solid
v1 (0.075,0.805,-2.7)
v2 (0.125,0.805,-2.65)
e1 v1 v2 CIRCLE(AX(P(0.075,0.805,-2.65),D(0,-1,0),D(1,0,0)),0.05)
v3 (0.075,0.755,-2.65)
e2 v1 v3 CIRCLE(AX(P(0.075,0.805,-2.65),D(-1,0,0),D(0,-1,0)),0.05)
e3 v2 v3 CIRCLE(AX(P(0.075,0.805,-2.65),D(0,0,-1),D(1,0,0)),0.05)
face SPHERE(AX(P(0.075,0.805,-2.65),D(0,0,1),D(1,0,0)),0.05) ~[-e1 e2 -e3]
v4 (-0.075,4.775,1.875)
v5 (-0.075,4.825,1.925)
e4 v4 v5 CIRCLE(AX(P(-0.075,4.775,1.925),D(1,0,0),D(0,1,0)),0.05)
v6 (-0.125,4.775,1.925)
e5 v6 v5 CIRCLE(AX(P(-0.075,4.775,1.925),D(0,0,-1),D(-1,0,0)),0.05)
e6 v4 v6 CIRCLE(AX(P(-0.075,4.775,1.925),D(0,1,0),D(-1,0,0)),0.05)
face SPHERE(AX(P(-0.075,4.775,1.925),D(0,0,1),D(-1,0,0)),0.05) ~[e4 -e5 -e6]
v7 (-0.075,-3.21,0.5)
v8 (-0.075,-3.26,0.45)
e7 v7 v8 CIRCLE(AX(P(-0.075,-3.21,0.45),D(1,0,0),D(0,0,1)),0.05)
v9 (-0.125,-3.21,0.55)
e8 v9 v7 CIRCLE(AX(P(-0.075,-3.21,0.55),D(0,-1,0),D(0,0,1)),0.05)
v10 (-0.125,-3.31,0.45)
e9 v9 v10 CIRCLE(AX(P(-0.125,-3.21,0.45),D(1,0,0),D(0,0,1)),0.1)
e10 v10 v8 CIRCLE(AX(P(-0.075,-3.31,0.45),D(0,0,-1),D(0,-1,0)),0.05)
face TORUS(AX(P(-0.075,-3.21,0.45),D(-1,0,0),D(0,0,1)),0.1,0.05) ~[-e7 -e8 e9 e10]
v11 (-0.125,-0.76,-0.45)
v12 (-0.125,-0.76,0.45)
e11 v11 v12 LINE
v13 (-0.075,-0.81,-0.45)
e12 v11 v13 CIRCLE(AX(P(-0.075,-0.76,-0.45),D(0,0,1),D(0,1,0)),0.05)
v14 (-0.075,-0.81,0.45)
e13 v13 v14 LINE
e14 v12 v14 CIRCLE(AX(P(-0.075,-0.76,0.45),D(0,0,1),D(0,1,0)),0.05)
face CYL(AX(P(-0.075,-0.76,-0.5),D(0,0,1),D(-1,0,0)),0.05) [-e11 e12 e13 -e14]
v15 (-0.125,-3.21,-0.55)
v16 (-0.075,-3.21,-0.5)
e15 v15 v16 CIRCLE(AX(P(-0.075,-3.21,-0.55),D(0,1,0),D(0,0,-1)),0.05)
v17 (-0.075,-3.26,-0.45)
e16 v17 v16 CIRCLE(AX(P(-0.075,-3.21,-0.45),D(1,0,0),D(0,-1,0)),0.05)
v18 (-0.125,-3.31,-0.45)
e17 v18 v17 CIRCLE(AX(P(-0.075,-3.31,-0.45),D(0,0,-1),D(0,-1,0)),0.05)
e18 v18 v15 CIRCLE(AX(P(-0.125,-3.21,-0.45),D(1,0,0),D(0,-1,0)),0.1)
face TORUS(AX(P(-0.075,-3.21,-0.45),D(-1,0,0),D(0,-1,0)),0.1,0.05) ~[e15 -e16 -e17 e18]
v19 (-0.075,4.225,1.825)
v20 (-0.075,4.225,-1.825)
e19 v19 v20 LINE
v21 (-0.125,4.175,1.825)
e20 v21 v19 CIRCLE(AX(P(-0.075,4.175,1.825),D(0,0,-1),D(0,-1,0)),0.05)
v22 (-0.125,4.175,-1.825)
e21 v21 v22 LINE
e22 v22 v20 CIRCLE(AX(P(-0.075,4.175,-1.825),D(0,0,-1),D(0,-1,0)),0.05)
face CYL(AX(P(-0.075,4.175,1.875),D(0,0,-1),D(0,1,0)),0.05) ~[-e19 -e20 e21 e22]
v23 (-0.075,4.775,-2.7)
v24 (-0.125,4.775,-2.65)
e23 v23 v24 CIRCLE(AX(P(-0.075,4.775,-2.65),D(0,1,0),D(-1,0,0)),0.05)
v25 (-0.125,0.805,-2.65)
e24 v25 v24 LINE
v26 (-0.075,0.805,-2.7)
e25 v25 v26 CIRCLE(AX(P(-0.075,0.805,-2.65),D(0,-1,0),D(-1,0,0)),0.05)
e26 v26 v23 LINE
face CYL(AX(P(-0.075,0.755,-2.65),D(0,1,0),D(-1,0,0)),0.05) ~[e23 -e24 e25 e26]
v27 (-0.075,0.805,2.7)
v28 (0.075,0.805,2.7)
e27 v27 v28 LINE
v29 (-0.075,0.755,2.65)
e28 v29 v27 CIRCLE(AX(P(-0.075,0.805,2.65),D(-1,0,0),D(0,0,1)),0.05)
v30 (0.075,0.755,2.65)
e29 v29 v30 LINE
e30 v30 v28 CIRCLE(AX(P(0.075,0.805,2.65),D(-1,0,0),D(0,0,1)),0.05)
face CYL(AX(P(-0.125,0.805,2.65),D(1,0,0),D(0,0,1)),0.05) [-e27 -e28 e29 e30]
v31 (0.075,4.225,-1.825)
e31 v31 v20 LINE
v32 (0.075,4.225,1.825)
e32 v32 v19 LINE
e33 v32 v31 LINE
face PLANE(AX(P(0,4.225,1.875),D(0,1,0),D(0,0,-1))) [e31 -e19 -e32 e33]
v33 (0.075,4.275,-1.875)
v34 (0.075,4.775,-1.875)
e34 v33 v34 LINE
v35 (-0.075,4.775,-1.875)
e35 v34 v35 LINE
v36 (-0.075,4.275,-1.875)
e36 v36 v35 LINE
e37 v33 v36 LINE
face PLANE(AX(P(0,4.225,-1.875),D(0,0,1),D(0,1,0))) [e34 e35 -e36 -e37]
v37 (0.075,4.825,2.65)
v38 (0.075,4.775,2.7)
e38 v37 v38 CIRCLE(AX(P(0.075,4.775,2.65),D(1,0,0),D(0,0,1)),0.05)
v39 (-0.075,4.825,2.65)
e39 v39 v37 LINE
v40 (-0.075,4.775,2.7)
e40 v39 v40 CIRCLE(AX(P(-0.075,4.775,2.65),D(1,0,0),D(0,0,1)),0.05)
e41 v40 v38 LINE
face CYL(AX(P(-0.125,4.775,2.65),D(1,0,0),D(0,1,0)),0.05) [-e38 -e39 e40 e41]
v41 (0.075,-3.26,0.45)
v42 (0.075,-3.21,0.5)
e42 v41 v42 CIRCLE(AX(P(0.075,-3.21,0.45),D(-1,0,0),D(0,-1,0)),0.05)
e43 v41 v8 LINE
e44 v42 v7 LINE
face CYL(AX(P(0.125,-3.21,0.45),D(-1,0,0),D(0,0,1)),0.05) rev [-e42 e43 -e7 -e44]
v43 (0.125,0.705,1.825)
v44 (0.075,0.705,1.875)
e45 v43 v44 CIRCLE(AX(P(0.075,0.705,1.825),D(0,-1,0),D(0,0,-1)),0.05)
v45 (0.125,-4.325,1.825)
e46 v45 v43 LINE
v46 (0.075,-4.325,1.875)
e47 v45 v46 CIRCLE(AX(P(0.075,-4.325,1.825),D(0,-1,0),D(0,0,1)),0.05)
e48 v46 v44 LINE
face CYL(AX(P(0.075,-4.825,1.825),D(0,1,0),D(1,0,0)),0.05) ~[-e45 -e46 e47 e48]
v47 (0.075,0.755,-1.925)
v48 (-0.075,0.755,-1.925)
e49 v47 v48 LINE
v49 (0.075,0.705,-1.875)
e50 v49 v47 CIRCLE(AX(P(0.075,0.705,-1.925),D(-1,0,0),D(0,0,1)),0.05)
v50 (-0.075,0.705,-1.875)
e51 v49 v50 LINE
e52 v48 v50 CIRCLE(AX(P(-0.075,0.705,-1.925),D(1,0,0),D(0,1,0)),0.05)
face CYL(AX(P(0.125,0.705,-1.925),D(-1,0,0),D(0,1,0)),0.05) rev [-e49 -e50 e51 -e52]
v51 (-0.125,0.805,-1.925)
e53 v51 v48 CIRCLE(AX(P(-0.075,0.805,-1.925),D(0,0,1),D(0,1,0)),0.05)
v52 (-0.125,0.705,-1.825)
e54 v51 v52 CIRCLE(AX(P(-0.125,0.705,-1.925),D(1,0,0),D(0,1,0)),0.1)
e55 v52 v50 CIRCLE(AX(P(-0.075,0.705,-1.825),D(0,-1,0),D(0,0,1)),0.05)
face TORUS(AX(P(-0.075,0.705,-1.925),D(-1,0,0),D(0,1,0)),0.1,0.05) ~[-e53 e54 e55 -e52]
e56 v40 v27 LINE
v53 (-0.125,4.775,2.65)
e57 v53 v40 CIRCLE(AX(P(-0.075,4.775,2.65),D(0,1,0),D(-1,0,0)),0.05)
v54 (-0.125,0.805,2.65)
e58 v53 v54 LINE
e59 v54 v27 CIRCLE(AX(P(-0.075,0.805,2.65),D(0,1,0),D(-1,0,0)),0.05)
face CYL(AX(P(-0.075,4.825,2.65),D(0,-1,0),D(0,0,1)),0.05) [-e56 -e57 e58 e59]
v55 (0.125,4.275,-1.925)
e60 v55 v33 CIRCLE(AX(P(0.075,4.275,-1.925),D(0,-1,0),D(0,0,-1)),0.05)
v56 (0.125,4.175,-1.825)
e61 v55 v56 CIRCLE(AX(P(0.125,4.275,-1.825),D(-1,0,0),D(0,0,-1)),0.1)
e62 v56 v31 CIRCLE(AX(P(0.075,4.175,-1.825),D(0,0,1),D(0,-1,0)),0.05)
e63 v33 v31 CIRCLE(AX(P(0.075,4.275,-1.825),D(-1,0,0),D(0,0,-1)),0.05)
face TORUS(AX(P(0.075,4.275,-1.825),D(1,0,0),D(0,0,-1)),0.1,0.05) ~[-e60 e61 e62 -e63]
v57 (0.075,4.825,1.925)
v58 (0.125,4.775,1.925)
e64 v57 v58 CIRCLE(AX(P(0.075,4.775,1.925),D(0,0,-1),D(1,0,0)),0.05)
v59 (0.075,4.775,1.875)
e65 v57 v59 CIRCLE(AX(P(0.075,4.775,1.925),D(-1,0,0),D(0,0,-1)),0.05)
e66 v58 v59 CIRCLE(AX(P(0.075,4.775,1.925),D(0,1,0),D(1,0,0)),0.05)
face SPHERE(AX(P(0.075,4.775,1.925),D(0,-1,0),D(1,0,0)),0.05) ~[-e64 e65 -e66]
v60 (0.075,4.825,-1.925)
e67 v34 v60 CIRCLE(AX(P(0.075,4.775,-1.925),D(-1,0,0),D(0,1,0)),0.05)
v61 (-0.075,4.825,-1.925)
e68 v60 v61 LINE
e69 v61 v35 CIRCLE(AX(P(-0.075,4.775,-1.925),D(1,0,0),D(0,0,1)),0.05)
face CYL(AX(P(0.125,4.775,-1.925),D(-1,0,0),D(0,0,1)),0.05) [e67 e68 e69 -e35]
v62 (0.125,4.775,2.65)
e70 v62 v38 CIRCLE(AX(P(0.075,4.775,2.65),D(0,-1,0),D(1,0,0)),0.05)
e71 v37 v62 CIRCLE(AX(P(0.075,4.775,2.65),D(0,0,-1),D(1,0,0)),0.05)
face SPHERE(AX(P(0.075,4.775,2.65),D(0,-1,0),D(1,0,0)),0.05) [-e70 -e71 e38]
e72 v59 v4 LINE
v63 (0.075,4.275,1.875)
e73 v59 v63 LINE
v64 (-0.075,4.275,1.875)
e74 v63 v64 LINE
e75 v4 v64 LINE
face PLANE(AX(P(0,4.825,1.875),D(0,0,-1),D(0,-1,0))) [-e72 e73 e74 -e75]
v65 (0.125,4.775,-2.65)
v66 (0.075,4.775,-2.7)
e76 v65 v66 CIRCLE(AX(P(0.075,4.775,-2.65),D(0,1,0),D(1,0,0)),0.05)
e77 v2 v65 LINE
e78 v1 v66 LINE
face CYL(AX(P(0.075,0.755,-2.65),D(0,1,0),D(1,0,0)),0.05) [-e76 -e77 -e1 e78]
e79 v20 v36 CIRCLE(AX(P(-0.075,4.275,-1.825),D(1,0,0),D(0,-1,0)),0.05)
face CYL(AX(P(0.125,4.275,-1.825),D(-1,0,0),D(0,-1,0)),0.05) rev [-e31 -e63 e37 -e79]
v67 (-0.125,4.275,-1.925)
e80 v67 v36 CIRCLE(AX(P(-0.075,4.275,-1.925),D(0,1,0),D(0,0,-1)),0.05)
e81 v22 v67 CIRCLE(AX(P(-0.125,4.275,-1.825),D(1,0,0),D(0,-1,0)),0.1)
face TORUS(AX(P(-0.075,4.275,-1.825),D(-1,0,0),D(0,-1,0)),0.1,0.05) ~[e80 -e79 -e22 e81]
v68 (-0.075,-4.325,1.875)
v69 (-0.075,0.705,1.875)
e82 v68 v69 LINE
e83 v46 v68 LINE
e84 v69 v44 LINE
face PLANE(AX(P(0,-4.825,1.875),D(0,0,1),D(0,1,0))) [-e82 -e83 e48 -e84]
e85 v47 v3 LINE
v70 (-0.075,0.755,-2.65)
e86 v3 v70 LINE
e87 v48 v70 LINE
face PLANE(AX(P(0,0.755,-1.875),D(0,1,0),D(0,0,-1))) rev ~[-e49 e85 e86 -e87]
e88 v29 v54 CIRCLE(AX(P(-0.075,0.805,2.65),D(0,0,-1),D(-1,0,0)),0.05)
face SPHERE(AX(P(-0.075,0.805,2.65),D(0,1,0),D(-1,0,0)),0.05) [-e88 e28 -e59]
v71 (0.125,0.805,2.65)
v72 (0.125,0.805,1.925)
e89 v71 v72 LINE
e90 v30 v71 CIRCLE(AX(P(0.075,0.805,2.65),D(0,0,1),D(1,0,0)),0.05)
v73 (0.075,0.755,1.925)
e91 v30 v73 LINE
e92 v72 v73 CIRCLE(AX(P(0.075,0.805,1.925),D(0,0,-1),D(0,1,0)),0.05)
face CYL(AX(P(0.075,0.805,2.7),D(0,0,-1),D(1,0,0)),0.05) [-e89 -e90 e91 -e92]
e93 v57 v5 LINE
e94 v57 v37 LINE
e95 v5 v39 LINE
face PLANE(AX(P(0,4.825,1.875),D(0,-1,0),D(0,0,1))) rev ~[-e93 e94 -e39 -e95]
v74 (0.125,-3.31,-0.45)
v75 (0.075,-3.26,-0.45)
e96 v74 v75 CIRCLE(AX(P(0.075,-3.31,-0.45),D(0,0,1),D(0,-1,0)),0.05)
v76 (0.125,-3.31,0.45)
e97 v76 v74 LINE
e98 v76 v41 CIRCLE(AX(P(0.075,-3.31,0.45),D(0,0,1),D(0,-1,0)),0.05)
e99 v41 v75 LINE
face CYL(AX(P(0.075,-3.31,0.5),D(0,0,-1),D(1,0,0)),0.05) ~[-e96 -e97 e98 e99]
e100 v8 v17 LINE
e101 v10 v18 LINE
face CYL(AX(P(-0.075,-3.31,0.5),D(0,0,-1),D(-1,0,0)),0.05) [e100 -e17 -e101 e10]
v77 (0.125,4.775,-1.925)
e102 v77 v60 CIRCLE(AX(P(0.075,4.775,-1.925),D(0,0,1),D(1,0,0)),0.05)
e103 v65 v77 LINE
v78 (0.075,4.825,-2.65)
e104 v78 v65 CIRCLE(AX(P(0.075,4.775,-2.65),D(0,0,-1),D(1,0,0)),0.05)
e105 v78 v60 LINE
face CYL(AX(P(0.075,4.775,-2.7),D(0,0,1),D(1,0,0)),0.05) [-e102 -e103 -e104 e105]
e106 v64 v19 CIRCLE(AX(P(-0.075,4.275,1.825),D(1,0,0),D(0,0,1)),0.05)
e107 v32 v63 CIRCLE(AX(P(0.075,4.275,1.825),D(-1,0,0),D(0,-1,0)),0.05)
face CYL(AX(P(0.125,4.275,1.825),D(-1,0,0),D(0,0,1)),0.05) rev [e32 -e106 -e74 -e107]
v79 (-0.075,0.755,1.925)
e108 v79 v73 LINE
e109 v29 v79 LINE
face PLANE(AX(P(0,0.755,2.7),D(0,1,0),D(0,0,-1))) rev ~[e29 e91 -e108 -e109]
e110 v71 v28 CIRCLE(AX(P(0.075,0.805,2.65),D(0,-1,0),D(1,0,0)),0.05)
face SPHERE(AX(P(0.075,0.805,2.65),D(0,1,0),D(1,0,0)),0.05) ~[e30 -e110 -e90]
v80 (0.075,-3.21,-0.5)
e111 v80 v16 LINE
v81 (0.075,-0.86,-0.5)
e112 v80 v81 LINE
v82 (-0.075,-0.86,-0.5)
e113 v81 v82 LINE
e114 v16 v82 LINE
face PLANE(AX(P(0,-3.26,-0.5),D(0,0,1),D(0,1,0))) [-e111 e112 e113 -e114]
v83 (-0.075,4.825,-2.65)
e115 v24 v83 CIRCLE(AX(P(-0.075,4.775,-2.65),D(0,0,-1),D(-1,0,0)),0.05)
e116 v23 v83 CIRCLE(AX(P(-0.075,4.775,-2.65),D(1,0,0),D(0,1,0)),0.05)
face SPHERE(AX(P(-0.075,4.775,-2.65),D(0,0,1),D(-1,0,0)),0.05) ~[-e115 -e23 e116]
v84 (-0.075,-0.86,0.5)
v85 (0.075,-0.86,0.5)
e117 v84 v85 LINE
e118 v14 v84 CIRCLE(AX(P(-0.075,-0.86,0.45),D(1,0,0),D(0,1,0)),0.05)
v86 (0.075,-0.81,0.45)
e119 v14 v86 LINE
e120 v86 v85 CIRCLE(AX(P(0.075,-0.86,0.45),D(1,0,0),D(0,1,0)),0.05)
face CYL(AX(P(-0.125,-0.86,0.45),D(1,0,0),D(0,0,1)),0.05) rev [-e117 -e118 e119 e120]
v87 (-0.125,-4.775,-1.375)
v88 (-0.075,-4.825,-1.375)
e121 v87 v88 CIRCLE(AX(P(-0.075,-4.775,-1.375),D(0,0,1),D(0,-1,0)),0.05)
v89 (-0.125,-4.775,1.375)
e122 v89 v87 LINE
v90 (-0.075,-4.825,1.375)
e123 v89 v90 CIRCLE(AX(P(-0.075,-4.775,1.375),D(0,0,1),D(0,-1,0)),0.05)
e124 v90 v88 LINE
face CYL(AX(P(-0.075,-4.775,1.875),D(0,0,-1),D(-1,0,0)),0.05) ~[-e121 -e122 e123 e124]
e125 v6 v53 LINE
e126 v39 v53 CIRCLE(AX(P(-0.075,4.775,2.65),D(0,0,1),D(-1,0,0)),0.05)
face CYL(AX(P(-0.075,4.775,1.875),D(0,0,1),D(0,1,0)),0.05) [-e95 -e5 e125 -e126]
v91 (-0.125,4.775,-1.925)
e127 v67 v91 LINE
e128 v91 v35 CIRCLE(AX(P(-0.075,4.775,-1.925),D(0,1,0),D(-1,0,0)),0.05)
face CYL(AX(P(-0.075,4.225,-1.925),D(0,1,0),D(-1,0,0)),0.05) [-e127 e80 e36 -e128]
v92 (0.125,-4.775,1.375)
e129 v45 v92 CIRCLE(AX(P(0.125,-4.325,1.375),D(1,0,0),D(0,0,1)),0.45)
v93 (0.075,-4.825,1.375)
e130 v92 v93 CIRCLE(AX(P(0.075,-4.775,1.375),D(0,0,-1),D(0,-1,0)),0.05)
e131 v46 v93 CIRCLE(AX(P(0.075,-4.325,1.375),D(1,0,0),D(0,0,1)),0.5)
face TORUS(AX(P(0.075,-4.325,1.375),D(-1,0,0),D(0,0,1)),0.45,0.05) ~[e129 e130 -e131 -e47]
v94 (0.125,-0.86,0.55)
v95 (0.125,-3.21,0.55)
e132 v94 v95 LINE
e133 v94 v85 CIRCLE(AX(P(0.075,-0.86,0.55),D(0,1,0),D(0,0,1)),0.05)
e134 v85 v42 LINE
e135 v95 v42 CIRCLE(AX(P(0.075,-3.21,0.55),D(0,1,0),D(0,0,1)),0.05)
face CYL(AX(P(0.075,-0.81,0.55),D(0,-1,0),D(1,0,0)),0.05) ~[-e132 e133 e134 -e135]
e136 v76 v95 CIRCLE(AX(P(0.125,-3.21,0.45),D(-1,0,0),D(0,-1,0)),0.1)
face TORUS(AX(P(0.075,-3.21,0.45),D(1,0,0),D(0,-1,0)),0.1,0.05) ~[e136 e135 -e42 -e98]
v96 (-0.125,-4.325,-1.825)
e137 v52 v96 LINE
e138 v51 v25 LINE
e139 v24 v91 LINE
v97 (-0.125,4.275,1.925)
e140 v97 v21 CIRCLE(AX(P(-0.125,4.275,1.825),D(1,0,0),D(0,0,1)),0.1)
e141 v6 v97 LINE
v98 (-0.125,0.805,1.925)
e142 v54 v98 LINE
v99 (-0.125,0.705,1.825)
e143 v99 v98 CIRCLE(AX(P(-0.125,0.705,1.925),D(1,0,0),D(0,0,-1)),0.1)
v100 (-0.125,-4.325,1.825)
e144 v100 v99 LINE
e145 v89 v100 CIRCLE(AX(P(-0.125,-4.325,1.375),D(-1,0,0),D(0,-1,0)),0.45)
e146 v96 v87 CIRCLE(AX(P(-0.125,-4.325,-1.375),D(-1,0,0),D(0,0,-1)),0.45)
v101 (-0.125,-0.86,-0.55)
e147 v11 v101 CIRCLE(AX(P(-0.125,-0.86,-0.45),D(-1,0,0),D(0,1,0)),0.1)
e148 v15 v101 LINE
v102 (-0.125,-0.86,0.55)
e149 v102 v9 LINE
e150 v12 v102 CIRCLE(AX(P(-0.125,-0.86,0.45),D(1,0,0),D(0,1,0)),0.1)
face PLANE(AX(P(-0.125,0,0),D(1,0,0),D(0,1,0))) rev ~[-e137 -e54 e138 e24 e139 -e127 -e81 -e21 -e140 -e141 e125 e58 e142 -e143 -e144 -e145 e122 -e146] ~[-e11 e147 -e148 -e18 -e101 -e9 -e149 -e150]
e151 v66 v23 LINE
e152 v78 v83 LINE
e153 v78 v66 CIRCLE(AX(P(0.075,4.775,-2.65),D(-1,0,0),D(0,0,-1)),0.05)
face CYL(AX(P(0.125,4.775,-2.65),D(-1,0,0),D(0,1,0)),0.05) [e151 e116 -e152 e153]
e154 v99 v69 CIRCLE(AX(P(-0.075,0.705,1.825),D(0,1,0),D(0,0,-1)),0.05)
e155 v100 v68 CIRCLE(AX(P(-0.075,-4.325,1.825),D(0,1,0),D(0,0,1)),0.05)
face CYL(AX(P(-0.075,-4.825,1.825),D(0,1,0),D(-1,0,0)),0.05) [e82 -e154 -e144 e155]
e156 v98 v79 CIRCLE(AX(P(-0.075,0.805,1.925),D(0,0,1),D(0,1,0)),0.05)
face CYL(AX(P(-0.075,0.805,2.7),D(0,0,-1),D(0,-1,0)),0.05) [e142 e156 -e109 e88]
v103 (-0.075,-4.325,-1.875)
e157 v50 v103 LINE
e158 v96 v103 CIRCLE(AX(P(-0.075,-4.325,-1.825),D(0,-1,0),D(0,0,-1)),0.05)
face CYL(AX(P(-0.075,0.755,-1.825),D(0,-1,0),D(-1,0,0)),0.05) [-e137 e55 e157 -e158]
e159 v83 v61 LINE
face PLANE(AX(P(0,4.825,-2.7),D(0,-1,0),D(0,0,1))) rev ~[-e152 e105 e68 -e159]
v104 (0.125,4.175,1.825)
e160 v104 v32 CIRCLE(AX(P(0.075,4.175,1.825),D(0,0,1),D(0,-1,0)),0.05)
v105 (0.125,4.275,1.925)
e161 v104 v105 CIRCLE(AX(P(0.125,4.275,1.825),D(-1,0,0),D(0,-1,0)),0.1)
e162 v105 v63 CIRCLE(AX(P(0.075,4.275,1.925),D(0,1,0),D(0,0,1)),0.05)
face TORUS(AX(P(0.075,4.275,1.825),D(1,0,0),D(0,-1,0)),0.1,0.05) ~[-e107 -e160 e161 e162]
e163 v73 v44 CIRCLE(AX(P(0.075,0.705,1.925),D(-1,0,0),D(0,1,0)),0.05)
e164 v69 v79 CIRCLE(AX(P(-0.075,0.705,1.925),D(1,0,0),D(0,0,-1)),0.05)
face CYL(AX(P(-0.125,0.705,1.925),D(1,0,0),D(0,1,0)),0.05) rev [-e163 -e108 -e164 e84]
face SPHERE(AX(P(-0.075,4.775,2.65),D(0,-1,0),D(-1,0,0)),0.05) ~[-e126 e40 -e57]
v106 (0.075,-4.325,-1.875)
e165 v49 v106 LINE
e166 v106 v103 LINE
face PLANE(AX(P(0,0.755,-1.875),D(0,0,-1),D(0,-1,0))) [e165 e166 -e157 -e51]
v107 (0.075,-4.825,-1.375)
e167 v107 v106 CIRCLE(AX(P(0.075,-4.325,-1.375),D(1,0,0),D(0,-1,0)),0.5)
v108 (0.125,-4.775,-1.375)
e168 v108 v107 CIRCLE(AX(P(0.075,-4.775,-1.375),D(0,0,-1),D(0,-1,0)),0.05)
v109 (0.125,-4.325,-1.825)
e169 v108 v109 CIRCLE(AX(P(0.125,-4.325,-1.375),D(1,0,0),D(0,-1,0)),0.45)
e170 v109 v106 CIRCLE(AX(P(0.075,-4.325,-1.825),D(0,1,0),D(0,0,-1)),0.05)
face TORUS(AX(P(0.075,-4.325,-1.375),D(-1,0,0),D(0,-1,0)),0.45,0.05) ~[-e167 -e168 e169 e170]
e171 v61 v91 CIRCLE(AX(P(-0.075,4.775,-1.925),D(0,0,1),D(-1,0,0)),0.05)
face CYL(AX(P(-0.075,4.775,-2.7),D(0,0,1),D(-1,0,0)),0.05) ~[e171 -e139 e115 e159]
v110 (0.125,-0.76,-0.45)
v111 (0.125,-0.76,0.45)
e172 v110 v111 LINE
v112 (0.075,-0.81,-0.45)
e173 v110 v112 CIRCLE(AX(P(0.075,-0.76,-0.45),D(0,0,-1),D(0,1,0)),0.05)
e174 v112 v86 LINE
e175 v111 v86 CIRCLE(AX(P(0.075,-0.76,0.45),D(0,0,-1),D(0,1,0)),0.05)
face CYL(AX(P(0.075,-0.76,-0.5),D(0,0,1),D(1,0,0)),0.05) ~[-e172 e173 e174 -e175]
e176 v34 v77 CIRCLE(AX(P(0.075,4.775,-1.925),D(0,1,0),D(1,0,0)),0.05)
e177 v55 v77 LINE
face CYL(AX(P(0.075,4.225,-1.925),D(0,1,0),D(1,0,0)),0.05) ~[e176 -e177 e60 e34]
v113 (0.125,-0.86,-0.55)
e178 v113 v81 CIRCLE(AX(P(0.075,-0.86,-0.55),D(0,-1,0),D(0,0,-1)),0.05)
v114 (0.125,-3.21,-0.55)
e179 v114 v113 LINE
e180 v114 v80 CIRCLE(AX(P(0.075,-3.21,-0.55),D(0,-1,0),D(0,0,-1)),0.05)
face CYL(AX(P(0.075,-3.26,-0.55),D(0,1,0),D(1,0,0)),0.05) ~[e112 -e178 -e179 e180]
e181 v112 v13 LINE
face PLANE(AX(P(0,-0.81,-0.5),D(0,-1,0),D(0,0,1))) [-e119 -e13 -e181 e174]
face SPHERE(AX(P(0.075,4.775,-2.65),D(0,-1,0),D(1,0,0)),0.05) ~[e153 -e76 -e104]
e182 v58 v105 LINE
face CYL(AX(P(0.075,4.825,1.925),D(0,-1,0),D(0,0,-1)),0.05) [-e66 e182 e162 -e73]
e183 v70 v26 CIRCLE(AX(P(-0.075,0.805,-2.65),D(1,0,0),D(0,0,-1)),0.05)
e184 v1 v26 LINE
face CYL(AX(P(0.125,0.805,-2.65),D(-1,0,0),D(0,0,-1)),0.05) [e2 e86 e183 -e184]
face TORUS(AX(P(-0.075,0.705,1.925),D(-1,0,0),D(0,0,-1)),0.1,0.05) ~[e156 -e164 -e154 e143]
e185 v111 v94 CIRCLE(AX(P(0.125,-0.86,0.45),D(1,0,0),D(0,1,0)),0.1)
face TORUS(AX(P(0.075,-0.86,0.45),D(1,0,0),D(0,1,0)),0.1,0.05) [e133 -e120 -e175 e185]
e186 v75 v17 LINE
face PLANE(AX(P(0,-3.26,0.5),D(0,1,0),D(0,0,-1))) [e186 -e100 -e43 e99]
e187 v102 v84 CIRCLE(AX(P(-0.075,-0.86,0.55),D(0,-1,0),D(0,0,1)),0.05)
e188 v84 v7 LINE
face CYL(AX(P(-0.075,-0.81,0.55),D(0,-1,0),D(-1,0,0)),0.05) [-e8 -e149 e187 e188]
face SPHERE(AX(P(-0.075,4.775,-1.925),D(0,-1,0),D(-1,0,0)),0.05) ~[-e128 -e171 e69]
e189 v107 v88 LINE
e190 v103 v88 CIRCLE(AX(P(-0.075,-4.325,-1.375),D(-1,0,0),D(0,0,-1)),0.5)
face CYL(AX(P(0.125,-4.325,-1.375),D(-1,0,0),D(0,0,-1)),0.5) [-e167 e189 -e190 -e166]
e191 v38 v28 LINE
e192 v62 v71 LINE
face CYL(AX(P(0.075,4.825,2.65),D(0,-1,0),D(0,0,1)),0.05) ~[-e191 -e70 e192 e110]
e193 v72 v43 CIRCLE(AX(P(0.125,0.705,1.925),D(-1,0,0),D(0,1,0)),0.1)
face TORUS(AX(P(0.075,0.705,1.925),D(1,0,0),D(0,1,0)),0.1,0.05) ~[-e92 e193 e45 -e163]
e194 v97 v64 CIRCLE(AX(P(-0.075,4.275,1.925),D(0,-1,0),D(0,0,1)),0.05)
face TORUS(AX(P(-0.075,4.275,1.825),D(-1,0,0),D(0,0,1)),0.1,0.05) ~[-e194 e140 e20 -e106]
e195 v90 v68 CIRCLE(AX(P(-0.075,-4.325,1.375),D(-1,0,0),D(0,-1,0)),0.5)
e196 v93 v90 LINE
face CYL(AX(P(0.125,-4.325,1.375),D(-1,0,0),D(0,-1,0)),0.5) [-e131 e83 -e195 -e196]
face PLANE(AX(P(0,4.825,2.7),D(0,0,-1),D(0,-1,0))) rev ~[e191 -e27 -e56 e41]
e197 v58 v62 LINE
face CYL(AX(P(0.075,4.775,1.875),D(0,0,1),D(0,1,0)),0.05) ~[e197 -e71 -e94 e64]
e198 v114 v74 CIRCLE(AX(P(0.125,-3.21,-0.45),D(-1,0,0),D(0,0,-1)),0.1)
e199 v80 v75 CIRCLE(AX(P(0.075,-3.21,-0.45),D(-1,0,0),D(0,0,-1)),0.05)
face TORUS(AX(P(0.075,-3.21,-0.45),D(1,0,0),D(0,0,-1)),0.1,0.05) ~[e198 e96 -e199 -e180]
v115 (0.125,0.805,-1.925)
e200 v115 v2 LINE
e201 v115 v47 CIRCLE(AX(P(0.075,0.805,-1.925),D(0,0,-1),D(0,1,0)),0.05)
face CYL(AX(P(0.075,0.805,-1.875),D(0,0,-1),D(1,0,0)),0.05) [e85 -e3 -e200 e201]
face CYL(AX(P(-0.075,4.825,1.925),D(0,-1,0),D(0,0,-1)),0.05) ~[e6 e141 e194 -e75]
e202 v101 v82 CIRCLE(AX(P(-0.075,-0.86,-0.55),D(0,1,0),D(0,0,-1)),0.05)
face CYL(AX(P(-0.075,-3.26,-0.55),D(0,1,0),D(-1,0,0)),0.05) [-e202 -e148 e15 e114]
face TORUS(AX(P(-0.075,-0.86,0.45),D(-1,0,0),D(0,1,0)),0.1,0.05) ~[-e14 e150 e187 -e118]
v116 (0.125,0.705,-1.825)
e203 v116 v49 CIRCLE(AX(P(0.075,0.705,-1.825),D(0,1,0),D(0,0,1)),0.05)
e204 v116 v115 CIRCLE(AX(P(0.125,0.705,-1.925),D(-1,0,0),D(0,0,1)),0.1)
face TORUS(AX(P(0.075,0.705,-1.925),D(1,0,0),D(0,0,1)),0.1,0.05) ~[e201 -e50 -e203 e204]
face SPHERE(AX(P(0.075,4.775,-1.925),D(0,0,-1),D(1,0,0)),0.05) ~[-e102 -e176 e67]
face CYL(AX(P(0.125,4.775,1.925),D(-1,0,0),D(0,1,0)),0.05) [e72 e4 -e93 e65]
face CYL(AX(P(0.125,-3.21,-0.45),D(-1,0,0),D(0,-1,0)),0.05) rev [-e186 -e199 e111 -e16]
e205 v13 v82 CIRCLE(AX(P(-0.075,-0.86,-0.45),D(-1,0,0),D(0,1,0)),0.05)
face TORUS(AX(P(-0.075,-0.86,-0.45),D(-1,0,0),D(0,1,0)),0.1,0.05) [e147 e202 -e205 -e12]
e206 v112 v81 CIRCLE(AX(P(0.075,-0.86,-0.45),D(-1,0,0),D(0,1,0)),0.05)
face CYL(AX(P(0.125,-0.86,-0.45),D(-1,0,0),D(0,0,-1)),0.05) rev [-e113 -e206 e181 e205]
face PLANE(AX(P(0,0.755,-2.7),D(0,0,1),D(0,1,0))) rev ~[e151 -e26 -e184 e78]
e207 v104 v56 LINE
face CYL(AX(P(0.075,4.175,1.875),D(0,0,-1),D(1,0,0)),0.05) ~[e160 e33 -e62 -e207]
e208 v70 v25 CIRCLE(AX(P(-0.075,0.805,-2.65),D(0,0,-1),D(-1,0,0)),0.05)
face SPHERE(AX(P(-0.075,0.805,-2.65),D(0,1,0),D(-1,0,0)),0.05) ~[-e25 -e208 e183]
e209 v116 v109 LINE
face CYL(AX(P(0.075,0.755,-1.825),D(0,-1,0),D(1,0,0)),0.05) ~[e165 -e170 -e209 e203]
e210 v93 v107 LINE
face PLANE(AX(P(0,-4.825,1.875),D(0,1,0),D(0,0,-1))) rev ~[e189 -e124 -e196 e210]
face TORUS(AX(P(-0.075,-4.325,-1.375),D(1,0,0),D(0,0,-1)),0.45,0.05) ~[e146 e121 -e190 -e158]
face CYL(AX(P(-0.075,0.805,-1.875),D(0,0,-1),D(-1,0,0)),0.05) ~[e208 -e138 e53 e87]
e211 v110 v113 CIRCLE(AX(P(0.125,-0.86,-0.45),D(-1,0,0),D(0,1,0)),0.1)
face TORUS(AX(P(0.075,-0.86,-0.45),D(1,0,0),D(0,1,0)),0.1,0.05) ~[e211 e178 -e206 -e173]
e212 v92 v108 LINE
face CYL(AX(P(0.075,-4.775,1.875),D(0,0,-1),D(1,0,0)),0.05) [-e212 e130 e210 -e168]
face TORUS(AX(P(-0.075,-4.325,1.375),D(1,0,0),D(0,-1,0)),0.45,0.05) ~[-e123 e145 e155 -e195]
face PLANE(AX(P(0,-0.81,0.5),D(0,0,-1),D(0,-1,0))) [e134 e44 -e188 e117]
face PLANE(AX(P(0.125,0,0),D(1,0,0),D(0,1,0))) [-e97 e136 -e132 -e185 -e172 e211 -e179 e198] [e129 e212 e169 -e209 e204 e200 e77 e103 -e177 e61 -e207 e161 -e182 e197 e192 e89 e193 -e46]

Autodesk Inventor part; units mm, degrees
ref_plane "YZ Plane" through (0, 0, 0) normal (1, 0, 0) x (0, 1, 0)
ref_plane "XZ Plane" through (0, 0, 0) normal (0, 1, 0) x (-1, 0, 0)
ref_plane "XY Plane" through (0, 0, 0) normal (0, 0, 1) x (1, 0, 0)
sketch "Sketch1" plane through (0, 0, 0) normal (1, 0, 0) x (0, 1, 0)
  line L0 (4.825, 2.7) -> (0.755, 2.7)
  line L1 (-4.825, 1.875) -> (-4.825, -1.875)
  line L2 (0.755, -2.7) -> (4.825, -2.7)
  line L3 (4.825, 2.7) -> (-4.825, -2.7) construction
  line L4 (-4.825, 2.7) -> (4.825, -2.7) construction
  line L5 (-4.825, 1.875) -> (0.755, 1.875)
  line L6 (0.755, -1.875) -> (-4.825, -1.875)
  line L7 (0.755, 0) -> (0.579, 0) construction
  line L8 (0.755, 2.7) -> (0.755, 1.875)
  line L9 (0.755, -1.875) -> (0.755, -2.7)
  line L10 (-0.81, 0.5) -> (-3.26, 0.5)
  line L11 (-3.26, 0.5) -> (-3.26, -0.5)
  line L12 (-3.26, -0.5) -> (-0.81, -0.5)
  line L13 (-0.81, -0.5) -> (-0.81, 0.5)
  line L14 (-0.81, 0.5) -> (-3.26, -0.5) construction
  line L15 (-3.26, 0.5) -> (-0.81, -0.5) construction
  line L16 (-2.035, -1.875) -> (-2.035, 1.875) construction
  line L17 (4.825, 1.875) -> (4.225, 1.875)
  line L18 (4.225, 1.875) -> (4.225, -1.875)
  line L19 (4.225, -1.875) -> (4.825, -1.875)
  line L20 (4.825, -2.7) -> (4.825, -1.875)
  line L21 (4.825, 1.875) -> (4.825, 2.7)
  point P0 (0, 0)
  point P1 (0.667, 0)
  point P2 (0, 0)
  point P3 (-2.035, 0)
  point P4 (5.4694, 0)
  dimension "d0" = 9.65
  dimension "d1" = 5.4
  dimension "d4" = 2.45
  dimension "d5" = 1
extrude "Extrusion1" add sketch "Sketch1" along normal mid plane 0.25
fillet "Fillet1" radius 0.05 46 edges at (-0.125, 2.79, 2.7) (-0.125, 4.825, 2.2875) (-0.125, 4.525, 1.875) (-0.125, 4.225, 0) (-0.125, 4.525, -1.875) (-0.125, 4.825, -2.2875) (-0.125, 2.79, -2.7) (-0.125, 0.755, -2.2875) (-0.125, -2.035, -1.875) (-0.125, -4.825, 0) (-0.125, -2.035, 1.875) (-0.125, 0.755, 2.2875) (0.125, 2.79, 2.7) (0.125, 0.755, 2.2875) (0.125, -2.035, 1.875) (0.125, -4.825, 0) (0.125, -2.035, -1.875) (0.125, 0.755, -2.2875) (0.125, 2.79, -2.7) (0.125, 4.825, -2.2875) (0.125, 4.525, -1.875) (0.125, 4.225, 0) (0.125, 4.525, 1.875) (0.125, 4.825, 2.2875) (-0.125, -0.81, 0) (-0.125, -2.035, 0.5) (-0.125, -3.26, 0) (-0.125, -2.035, -0.5) (0.125, -0.81, 0) (0.125, -2.035, -0.5) (0.125, -3.26, 0) (0.125, -2.035, 0.5) (0, -3.26, -0.5) (0, -3.26, 0.5) (0, -0.81, -0.5) (0, -0.81, 0.5) (0, 4.825, 2.7) (0, 4.825, 1.875) (0, 4.825, -2.7) (0, 4.825, -1.875) (0, 4.225, -1.875) (0, 4.225, 1.875) (0, 0.755, 2.7) (0, 0.755, -2.7) (0, 0.755, -1.875) (0, 0.755, 1.875)
fillet "Fillet1" radius 0.5 2 edges at (0, -4.825, -1.875) (0, -4.825, 1.875)
properties part number "metal uc"
